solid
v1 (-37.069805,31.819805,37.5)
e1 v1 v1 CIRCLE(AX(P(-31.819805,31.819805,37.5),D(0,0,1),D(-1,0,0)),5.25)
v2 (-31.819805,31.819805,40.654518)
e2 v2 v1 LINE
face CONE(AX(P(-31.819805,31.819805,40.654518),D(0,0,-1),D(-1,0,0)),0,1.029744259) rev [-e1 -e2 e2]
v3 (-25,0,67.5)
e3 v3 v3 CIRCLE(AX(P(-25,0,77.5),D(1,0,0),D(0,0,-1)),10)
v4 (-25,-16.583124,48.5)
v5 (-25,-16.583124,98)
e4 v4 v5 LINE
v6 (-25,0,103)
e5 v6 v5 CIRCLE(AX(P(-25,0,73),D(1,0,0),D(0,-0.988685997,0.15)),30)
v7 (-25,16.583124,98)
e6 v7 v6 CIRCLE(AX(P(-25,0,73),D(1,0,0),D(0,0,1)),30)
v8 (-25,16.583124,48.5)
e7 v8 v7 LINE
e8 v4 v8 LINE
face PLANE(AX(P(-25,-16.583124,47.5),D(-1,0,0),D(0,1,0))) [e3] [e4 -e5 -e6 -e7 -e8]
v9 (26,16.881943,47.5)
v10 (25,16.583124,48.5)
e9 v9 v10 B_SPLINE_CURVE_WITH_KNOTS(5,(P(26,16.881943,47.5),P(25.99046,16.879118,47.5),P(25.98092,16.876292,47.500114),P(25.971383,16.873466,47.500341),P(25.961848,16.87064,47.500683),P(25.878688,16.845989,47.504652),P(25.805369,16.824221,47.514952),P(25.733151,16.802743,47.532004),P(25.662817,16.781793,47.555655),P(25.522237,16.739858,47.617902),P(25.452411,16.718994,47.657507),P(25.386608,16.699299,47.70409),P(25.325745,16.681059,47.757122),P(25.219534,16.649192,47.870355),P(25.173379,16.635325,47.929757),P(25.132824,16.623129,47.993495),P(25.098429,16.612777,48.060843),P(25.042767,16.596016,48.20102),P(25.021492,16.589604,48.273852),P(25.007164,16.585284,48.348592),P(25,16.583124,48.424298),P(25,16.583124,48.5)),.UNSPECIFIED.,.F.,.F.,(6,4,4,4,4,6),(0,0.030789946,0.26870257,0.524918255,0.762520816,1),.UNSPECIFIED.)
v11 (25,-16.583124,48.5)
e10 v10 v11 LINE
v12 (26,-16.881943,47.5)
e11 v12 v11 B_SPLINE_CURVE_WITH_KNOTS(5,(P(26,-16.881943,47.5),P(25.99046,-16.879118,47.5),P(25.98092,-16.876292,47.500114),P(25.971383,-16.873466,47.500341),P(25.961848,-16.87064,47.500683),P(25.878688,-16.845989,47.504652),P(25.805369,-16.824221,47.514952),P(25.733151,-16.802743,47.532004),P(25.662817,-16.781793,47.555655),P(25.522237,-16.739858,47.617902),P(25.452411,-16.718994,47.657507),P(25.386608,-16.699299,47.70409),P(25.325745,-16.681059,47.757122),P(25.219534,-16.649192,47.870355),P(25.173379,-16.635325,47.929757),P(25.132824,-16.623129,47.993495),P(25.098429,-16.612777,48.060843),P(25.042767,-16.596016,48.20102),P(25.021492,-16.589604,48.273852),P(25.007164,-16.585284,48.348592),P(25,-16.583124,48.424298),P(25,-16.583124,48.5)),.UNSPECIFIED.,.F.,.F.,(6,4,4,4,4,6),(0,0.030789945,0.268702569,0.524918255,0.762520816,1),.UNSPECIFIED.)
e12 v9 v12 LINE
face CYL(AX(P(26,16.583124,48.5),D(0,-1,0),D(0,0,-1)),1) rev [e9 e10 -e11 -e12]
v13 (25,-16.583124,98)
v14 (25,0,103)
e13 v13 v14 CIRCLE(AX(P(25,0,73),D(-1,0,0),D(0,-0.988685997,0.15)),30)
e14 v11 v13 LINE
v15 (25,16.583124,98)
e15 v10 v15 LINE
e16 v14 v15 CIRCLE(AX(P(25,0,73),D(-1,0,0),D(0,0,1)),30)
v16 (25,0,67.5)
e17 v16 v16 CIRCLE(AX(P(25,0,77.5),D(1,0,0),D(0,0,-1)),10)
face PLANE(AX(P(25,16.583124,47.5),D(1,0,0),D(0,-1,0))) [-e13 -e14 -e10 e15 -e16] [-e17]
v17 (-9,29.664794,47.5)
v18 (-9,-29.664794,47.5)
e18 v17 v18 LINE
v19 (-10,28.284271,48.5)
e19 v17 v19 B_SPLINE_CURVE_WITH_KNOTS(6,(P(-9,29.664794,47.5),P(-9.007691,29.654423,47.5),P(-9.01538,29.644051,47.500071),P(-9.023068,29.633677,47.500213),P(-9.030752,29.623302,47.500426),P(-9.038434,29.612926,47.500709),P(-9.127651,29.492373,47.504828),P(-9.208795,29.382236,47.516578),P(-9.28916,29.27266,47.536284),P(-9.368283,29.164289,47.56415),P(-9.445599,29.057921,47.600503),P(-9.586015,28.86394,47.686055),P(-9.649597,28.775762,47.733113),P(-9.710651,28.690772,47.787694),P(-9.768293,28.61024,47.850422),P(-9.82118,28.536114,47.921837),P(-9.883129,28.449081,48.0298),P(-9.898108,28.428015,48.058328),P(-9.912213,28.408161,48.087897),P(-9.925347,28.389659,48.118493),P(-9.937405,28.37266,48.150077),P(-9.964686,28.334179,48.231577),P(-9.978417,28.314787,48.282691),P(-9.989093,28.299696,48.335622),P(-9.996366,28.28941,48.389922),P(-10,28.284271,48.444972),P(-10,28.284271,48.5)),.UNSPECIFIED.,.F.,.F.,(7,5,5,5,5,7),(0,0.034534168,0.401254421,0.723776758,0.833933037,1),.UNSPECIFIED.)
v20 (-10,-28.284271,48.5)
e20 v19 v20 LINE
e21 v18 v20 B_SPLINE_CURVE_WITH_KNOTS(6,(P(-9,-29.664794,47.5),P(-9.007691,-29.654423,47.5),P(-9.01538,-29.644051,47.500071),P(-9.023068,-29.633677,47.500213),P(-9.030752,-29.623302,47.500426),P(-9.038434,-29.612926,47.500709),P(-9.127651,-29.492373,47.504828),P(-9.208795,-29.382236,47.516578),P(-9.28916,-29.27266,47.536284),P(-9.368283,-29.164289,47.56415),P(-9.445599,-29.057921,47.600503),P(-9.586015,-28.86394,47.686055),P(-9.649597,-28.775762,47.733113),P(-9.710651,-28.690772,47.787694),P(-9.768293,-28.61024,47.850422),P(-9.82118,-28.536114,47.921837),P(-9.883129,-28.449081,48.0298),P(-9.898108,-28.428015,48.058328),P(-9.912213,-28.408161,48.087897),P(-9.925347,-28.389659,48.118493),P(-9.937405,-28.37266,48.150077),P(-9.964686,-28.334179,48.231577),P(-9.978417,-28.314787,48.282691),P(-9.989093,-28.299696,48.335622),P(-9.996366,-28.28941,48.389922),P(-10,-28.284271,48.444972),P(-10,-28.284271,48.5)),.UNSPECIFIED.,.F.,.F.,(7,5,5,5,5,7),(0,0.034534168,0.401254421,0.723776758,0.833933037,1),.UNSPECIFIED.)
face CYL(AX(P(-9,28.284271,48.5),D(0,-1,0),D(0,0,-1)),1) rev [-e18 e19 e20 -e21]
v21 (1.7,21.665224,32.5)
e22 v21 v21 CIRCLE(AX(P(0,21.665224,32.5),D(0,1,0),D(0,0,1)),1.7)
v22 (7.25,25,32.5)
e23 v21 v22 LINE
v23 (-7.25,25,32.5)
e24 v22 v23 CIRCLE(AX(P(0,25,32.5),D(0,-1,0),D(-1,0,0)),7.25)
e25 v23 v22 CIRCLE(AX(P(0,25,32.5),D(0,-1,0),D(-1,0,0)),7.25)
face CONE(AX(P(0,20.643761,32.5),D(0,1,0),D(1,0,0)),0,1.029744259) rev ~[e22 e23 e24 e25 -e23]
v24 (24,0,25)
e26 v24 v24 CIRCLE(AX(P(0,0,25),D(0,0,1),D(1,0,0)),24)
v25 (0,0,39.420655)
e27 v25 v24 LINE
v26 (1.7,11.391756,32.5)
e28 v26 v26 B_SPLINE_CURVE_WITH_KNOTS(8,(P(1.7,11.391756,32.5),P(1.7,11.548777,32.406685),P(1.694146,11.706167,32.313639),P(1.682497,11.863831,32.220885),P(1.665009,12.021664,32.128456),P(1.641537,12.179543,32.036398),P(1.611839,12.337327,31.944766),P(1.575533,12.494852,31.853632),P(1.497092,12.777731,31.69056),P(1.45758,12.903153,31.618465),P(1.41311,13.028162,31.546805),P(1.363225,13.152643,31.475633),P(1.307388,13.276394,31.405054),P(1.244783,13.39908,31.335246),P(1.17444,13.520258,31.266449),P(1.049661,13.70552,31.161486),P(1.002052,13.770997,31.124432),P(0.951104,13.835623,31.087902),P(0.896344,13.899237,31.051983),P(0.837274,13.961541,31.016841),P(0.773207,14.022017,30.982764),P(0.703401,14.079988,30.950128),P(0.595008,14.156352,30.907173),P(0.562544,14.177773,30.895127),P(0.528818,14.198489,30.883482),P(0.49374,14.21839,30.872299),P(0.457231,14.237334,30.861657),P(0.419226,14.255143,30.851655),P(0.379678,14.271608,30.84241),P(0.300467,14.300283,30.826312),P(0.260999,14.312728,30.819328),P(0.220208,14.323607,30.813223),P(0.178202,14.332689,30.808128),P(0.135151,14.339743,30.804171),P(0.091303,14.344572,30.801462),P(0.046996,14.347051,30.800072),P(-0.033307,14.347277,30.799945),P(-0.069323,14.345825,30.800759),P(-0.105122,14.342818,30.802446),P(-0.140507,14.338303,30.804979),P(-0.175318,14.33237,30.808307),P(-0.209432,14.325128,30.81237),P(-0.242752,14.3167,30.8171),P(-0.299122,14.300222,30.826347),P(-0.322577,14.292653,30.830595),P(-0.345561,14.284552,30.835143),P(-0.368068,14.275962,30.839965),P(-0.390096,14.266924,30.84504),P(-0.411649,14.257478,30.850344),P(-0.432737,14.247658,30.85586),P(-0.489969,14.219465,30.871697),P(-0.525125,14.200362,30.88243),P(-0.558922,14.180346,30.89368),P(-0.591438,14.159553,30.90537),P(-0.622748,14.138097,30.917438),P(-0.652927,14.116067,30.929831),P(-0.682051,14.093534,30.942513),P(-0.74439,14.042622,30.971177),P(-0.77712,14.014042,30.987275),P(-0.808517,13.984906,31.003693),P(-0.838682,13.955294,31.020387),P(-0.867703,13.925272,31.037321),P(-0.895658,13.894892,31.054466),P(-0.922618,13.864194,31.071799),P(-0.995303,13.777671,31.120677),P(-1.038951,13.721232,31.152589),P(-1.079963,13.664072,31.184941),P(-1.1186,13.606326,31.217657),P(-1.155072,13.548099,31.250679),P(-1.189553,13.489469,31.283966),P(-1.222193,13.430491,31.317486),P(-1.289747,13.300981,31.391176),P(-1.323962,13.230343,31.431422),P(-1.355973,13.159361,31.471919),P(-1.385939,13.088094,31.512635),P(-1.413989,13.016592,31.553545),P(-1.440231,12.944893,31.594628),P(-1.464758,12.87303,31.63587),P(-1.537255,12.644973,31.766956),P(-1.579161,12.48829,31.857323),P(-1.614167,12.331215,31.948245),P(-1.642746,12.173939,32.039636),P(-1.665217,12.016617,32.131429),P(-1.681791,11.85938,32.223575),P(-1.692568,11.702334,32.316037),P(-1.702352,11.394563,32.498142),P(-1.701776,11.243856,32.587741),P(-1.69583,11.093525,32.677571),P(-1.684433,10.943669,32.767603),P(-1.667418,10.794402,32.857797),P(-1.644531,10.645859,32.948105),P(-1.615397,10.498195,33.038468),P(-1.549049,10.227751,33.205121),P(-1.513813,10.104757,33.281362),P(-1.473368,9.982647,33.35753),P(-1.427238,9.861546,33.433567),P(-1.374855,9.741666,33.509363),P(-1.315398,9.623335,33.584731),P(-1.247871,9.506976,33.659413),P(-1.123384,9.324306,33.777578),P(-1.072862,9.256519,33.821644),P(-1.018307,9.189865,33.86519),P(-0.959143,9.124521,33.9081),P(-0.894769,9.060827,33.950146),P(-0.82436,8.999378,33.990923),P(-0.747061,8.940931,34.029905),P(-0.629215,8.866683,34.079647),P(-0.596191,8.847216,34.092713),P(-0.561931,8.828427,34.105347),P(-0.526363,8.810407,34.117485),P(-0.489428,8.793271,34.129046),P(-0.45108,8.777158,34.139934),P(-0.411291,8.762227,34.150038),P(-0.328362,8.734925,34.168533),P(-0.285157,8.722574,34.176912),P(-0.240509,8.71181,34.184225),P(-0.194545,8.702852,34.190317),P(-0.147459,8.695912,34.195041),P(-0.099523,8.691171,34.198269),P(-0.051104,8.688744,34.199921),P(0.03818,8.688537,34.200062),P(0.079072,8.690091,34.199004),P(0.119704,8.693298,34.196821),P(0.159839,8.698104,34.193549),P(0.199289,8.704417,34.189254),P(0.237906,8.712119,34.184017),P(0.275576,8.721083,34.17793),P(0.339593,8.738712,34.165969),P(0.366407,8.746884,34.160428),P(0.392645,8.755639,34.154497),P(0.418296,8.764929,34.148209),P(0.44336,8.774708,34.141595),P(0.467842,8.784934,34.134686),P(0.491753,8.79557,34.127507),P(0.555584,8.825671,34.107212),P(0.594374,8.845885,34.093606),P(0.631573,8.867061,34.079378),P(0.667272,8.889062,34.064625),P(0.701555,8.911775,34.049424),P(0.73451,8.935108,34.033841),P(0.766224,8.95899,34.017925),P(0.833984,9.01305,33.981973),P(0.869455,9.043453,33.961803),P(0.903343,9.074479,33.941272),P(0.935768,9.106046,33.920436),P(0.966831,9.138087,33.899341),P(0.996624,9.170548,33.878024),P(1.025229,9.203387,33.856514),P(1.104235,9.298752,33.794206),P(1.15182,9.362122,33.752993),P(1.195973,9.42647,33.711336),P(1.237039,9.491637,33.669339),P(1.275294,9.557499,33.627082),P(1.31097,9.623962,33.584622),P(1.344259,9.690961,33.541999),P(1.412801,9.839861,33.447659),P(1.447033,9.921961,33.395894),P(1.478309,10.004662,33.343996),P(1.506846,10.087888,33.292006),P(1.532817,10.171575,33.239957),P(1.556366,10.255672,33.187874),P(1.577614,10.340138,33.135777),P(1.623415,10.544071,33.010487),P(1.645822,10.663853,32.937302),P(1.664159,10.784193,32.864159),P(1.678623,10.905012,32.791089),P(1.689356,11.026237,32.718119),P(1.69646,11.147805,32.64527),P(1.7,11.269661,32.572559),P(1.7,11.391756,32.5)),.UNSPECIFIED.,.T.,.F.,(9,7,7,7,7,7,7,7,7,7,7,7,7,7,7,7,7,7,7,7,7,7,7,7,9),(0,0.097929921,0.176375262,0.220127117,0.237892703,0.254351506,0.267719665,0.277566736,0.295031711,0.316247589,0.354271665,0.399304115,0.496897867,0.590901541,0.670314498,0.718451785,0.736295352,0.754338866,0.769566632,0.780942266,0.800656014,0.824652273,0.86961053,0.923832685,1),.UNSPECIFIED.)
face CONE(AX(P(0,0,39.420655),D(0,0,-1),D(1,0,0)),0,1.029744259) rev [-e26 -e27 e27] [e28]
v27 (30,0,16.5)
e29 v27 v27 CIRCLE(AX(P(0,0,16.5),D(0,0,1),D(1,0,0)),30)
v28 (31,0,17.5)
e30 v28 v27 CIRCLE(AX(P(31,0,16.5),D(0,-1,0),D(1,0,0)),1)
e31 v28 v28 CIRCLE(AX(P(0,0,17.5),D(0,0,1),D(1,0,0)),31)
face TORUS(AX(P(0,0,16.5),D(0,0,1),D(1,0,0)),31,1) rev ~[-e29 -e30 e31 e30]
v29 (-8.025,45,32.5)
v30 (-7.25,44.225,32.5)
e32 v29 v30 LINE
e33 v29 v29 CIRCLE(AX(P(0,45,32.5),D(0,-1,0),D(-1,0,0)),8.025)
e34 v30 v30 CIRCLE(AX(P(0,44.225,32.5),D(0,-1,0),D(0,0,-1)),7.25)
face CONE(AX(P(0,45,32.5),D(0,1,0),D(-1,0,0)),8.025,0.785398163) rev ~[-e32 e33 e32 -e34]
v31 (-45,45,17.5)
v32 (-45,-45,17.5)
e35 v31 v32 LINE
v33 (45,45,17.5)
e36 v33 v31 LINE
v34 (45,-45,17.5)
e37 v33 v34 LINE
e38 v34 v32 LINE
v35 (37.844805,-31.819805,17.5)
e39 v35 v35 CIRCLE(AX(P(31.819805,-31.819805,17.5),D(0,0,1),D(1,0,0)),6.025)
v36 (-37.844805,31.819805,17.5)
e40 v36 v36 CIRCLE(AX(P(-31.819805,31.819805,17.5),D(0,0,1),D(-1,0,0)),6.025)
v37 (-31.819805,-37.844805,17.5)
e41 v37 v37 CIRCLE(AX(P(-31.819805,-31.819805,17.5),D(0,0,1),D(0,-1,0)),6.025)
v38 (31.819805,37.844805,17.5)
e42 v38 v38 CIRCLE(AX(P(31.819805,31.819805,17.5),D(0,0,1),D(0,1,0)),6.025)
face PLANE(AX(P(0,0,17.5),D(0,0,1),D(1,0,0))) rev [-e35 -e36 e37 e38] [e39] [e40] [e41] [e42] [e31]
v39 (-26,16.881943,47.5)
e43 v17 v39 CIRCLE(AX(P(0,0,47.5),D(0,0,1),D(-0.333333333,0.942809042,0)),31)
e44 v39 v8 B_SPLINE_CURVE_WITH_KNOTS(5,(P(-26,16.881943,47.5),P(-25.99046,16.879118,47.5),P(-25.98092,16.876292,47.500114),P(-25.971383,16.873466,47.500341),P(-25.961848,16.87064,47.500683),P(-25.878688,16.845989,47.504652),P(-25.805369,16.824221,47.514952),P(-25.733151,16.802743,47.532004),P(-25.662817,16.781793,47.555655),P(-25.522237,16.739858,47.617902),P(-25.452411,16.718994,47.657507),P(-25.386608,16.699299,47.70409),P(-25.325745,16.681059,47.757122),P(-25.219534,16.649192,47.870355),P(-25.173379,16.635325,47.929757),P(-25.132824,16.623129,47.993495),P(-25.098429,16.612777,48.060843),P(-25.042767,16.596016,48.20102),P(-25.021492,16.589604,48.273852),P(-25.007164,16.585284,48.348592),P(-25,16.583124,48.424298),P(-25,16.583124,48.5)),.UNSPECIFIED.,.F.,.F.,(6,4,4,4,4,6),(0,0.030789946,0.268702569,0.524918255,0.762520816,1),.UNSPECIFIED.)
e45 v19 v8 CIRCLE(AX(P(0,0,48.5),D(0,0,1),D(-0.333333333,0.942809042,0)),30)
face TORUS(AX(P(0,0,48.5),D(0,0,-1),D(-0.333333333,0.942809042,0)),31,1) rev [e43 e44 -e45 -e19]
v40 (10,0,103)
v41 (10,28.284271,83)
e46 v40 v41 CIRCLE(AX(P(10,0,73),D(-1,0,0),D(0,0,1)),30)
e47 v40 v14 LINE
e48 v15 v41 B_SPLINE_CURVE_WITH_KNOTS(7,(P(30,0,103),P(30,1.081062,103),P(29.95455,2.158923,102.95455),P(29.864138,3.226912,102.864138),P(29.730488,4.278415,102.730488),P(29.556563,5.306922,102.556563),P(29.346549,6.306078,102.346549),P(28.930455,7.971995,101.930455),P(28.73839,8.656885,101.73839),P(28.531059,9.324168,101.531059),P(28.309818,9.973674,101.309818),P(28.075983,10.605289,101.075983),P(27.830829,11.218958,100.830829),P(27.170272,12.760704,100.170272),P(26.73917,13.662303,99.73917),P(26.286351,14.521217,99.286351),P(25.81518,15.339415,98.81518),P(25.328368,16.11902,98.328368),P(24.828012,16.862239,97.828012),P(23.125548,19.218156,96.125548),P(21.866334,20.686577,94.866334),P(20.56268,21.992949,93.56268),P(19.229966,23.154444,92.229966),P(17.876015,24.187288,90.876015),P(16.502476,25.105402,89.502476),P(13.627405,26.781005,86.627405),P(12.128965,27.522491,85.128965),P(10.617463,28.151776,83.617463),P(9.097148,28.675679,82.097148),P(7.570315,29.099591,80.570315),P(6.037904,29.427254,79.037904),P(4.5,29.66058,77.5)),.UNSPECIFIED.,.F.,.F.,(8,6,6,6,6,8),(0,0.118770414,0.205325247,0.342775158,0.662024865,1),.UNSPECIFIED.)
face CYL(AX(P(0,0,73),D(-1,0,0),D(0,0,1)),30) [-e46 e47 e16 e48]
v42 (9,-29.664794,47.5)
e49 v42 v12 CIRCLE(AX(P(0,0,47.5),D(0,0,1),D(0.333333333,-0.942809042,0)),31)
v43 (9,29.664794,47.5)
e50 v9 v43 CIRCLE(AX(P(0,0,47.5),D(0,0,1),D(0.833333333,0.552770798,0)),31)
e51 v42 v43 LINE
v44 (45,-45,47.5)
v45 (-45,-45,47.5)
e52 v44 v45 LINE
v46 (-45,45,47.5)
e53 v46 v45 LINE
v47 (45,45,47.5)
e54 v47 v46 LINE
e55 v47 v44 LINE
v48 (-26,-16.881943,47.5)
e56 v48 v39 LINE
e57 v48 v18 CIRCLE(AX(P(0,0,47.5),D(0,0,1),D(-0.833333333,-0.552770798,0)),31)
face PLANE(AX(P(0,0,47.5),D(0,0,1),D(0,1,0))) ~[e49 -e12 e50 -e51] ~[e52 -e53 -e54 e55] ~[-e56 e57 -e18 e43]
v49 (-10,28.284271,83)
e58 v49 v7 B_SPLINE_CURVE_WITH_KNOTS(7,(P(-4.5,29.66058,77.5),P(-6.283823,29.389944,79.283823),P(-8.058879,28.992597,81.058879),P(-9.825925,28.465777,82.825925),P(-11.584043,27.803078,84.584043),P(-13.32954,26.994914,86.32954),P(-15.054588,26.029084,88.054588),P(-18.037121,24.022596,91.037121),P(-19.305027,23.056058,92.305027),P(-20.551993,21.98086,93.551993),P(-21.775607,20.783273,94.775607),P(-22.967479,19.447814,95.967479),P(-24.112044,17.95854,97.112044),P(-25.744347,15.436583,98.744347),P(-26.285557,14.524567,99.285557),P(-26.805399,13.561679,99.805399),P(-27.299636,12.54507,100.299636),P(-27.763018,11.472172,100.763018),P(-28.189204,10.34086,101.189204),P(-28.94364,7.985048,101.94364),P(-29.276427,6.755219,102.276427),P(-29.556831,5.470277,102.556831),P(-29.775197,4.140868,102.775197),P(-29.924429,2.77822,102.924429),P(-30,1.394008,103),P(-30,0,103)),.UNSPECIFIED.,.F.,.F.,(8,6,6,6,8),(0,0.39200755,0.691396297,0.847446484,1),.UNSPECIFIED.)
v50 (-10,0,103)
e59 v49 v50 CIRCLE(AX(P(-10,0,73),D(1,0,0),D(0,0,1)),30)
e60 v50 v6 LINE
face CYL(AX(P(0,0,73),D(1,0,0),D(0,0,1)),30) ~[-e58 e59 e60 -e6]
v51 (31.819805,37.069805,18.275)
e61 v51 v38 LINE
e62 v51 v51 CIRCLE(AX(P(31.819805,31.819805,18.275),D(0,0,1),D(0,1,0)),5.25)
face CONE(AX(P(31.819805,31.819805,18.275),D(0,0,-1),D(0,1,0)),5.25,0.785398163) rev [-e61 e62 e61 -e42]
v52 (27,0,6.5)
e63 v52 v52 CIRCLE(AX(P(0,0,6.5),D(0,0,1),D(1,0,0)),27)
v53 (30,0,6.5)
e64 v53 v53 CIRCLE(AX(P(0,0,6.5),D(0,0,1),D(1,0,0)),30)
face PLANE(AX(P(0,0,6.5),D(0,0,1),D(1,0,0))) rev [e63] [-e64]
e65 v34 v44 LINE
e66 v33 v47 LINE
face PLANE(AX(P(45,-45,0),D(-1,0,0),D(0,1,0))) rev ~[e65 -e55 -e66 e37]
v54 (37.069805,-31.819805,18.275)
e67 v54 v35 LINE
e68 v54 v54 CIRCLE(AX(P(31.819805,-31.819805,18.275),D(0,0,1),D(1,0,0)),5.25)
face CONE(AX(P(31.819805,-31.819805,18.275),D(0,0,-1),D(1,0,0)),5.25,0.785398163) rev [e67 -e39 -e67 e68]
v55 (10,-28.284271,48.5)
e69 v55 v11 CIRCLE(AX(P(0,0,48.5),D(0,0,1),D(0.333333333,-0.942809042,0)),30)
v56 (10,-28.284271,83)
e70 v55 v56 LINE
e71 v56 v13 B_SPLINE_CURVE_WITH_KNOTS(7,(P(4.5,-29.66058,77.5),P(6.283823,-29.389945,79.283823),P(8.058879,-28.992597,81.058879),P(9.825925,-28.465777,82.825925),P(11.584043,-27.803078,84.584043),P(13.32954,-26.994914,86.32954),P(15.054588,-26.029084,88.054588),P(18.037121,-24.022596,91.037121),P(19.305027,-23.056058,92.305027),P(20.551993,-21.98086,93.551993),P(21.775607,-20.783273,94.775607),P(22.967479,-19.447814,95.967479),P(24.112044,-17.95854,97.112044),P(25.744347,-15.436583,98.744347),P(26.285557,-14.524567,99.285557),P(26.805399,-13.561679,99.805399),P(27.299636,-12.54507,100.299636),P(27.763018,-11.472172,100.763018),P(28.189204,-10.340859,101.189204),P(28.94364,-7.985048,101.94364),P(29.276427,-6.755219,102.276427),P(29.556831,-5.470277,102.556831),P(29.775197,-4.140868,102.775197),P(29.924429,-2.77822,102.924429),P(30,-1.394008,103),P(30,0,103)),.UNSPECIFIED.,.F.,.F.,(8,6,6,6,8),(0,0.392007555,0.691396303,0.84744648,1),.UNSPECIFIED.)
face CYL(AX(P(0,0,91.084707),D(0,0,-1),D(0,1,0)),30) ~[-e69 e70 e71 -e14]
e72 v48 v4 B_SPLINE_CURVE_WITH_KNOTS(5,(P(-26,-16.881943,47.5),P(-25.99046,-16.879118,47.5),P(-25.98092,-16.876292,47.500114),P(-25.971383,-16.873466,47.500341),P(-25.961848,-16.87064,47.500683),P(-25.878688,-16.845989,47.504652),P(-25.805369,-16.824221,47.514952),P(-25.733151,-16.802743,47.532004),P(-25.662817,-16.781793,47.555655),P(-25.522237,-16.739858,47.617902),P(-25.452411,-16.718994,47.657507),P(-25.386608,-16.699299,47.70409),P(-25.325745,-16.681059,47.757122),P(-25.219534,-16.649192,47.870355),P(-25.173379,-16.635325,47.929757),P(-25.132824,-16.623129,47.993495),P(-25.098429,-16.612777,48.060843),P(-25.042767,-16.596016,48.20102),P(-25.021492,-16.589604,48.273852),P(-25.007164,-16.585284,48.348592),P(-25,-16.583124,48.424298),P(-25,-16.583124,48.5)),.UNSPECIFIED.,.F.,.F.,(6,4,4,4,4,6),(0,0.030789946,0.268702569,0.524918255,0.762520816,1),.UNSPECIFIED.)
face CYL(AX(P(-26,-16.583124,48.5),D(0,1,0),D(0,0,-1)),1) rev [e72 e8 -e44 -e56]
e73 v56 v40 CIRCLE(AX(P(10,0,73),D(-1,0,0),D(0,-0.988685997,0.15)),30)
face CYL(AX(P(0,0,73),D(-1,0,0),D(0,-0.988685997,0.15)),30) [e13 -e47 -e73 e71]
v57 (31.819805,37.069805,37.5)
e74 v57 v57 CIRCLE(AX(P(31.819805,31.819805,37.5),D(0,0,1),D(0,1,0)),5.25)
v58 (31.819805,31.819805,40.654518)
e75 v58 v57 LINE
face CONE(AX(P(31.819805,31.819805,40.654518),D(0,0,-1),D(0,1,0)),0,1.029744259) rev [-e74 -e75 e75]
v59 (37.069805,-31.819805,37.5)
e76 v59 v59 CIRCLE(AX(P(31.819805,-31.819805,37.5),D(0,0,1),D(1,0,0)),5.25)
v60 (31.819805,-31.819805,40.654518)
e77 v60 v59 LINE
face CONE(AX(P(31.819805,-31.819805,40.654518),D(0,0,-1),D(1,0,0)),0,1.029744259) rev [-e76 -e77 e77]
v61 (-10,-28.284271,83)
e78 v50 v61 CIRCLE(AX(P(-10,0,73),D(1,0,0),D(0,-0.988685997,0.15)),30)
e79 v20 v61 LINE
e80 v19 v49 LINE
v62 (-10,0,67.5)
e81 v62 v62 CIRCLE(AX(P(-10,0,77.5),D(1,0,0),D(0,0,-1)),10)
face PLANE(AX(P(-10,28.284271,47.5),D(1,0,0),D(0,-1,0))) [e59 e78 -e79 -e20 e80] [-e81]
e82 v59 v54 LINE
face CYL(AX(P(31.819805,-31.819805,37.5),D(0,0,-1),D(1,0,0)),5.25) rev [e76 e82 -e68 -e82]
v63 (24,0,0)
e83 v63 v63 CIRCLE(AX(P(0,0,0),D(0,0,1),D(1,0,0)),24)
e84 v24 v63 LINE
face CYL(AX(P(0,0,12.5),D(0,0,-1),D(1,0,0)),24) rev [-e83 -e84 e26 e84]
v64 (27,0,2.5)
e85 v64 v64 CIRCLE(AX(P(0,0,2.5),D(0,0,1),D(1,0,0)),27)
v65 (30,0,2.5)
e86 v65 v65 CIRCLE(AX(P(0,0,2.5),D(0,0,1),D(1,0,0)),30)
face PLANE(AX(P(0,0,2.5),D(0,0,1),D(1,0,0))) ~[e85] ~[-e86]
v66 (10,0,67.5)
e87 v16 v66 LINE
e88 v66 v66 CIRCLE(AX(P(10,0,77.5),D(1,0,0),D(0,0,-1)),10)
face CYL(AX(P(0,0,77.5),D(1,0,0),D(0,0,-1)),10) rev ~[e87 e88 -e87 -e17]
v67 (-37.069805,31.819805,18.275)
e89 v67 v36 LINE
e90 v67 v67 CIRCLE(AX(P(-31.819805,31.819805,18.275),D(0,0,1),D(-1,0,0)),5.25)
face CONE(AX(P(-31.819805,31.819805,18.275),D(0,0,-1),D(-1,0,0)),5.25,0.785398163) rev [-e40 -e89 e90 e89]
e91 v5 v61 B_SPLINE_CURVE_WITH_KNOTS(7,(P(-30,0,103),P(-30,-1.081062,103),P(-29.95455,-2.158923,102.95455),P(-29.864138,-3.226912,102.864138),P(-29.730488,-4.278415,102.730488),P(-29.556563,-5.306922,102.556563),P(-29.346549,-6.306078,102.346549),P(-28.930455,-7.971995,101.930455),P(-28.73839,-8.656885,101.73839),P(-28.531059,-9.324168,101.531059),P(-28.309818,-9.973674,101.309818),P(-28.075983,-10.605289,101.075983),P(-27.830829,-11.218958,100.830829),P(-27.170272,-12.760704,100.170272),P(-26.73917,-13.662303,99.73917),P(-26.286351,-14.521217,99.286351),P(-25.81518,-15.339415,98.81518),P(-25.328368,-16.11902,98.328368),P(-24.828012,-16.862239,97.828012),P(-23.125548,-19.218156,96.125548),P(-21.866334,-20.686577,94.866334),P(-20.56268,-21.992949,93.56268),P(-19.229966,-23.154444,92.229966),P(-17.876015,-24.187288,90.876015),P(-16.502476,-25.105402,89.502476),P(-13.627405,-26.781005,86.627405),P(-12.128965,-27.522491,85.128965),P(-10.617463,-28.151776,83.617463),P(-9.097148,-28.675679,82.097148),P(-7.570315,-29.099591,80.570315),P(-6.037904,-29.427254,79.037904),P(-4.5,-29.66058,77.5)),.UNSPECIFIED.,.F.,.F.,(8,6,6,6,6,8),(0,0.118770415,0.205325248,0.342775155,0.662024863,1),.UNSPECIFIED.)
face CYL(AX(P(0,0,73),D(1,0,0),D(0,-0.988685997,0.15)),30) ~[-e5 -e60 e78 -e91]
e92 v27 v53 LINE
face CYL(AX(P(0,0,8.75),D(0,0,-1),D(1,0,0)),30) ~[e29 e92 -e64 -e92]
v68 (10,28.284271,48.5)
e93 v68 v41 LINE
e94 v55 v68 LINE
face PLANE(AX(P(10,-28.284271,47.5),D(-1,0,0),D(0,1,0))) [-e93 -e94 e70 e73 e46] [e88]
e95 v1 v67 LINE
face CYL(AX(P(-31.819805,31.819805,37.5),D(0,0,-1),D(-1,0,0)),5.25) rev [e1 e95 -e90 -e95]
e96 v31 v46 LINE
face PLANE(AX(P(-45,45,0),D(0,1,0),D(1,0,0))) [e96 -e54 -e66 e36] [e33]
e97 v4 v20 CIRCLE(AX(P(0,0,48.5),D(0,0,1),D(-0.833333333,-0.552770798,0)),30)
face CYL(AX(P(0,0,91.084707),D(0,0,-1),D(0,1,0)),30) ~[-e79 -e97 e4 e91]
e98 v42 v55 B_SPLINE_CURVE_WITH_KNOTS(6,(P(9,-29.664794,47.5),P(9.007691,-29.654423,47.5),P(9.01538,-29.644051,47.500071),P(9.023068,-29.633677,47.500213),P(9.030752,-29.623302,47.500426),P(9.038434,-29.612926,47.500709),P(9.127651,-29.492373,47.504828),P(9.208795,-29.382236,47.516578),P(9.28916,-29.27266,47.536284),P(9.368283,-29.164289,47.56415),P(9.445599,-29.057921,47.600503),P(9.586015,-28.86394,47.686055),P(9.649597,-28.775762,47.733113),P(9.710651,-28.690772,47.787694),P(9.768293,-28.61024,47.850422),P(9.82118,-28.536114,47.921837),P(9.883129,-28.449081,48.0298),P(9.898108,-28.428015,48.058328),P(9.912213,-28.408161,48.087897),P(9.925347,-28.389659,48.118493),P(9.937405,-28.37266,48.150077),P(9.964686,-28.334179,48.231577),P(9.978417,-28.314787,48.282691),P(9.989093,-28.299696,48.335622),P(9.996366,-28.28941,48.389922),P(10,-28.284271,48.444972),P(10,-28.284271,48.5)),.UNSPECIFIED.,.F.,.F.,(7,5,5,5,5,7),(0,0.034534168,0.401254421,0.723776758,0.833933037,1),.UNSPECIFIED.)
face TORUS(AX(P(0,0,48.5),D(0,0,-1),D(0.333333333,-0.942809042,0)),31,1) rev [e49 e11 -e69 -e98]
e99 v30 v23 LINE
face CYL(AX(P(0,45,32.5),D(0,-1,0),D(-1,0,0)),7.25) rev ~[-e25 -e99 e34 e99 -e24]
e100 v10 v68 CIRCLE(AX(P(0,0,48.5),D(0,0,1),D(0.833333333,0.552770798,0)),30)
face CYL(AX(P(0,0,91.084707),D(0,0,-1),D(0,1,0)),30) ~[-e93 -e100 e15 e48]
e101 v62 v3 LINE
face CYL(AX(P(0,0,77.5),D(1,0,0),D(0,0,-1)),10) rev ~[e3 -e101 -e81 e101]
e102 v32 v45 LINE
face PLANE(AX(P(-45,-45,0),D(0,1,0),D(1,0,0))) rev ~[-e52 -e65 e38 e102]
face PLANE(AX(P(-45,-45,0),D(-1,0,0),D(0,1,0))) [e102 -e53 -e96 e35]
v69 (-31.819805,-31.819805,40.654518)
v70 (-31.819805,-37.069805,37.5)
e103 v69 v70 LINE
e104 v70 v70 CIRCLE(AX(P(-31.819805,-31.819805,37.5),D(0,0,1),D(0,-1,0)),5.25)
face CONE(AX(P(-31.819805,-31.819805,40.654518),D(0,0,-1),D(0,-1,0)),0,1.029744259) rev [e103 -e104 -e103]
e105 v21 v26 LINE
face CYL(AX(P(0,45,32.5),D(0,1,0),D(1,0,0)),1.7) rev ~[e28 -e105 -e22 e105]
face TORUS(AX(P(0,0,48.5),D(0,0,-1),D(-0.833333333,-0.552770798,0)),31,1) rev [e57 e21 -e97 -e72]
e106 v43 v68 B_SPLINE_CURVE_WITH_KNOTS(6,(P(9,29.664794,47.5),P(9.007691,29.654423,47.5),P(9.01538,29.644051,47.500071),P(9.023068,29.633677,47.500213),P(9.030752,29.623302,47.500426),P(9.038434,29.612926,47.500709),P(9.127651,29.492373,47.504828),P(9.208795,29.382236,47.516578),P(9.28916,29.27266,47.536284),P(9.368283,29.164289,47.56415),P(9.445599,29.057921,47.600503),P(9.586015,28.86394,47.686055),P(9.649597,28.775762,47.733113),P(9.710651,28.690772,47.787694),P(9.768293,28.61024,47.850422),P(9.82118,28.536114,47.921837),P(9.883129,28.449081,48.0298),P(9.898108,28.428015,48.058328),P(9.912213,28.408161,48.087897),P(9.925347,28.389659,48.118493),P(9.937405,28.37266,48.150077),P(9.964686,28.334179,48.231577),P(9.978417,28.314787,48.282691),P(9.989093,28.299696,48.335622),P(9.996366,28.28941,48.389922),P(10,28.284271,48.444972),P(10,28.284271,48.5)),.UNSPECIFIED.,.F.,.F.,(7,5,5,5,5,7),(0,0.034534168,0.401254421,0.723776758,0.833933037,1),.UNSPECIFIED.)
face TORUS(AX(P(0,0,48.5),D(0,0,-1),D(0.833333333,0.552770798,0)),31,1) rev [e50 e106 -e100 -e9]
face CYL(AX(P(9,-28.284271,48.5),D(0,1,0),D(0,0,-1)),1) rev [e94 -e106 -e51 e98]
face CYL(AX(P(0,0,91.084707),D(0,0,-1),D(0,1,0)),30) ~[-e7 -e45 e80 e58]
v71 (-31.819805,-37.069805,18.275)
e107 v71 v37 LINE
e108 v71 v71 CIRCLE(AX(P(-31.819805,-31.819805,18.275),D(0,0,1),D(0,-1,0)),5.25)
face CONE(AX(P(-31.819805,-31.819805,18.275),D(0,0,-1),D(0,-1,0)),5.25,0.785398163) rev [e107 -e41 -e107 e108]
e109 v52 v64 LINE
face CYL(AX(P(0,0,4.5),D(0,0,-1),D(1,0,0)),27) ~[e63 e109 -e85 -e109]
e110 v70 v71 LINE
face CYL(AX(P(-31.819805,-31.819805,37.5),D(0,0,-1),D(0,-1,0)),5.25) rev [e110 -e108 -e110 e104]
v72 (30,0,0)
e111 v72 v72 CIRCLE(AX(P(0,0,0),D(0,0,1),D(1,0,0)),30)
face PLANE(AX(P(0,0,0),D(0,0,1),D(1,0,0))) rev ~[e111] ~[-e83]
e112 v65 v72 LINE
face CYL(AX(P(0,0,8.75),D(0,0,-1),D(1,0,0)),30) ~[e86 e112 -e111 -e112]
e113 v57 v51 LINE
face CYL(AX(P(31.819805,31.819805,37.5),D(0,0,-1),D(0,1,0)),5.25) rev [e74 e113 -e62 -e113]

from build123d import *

# Parameters (mm, degrees)
SKETCH2_W                        = 90
SKETCH2_H                        = 90
BOSS_EXTRUDE1_DEPTH              = 103
SKETCH4_W                        = 24
SKETCH4_H                        = 25
SKETCH4_W_2                      = 40
SKETCH4_H_2                      = 17.5
SKETCH4_W_3                      = 3
SKETCH4_H_3                      = 4
SKETCH5_R                        = 10
CUT_EXTRUDE1_DEPTH               = 46
CUT_EXTRUDE1_DEPTH_BACK          = 46
SKETCH6_W                        = 87.169413833
SKETCH6_H                        = 43.101198191
CUT_EXTRUDE2_DEPTH               = 46
CUT_EXTRUDE2_DEPTH_BACK          = 46
CUT_EXTRUDE3_DEPTH               = 103
CUT_EXTRUDE4_REACH               = 92
SKETCH10_R                       = 1.7
FILLET1_R                        = 1
M16X1_5_TAPPED_HOLE2_D           = 14.5
M16X1_5_TAPPED_HOLE2_DEPTH       = 20
M16X1_5_TAPPED_HOLE2_CSINK_D     = 16.05
M16X1_5_TAPPED_HOLE2_CSINK_ANGLE = 90
M16X1_5_TAPPED_HOLE2_TIP         = 4.356239488
CIRPATTERN2_COUNT                = 4


with BuildPart() as part:
    # Sketch2 → Boss-Extrude1 (new body)
    with BuildSketch(Plane.XY):
        Rectangle(SKETCH2_W, SKETCH2_H)
    extrude(amount=BOSS_EXTRUDE1_DEPTH)

    # Sketch4 → Cut-Revolve2 (revolve, cut)
    with BuildSketch(Plane(origin=(0, 0, 0), x_dir=(1, 0, 0), z_dir=(0, 1, 0))):
        with Locations((12, -12.5)):
            Rectangle(SKETCH4_W, SKETCH4_H)
        Polygon((0, -25), (0, -39.420654857), (24, -25), align=None)
        with Locations((50, -8.75)):
            Rectangle(SKETCH4_W_2, SKETCH4_H_2)
        with Locations((28.5, -4.5)):
            Rectangle(SKETCH4_W_3, SKETCH4_H_3)
    revolve(axis=Axis((0, 0, 0), (0, 0, 1)), mode=Mode.SUBTRACT)

    # Sketch5 → Cut-Extrude1 (cut, two sides)
    with BuildSketch(Plane(origin=(0, 0, 0), x_dir=(0, 0, -1), z_dir=(1, 0, 0))) as cut_extrude1_sk:
        with Locations((-77.5, 0)):
            Circle(SKETCH5_R)
    extrude(amount=CUT_EXTRUDE1_DEPTH, mode=Mode.SUBTRACT)
    extrude(cut_extrude1_sk.sketch, amount=-CUT_EXTRUDE1_DEPTH_BACK, mode=Mode.SUBTRACT)

    # Sketch6 → Cut-Revolve3 (revolve, cut)
    with BuildSketch(Plane(origin=(0, 0, 0), x_dir=(0, 0, -1), z_dir=(1, 0, 0))):
        with Locations((-91.084706917, 51.550599096)):
            Rectangle(SKETCH6_W, SKETCH6_H)
    revolve(axis=Axis((0, 0, 0), (0, 0, 1)), mode=Mode.SUBTRACT)

    # Sketch7 → Cut-Extrude2 (cut, two sides)
    with BuildSketch(Plane(origin=(0, 0, 0), x_dir=(0, 0, -1), z_dir=(1, 0, 0))) as cut_extrude2_sk:
        with BuildLine():
            Line((-103, 30), (-103, 0))
            ThreePointArc((-103, 0), (-95.748626332, 19.557607216), (-77.5, 29.6605799))
            Line((-77.5, 29.6605799), (-77.5, 30))
            Line((-77.5, 30), (-103, 30))
        make_face()
        with BuildLine():
            ThreePointArc((-77.5, -29.6605799), (-95.748626332, -19.557607216), (-103, 0))
            Line((-103, 0), (-103, -30))
            Line((-103, -30), (-77.5, -30))
            Line((-77.5, -30), (-77.5, -29.6605799))
        make_face()
    extrude(amount=CUT_EXTRUDE2_DEPTH, mode=Mode.SUBTRACT)
    extrude(cut_extrude2_sk.sketch, amount=-CUT_EXTRUDE2_DEPTH_BACK, mode=Mode.SUBTRACT)

    # Sketch8 → Cut-Extrude3 (cut)
    with BuildSketch(Plane.XY.offset(47.5)):
        with BuildLine():
            ThreePointArc((30, 0), (28.722813233, 8.660254038), (25, 16.583123952))
            Line((25, 16.583123952), (25, -16.583123952))
            ThreePointArc((25, -16.583123952), (28.722813233, -8.660254038), (30, 0))
        make_face()
        with BuildLine():
            Line((-25, -16.583123952), (-25, 16.583123952))
            ThreePointArc((-25, 16.583123952), (-30, 0), (-25, -16.583123952))
        make_face()
        with BuildLine():
            ThreePointArc((10, 28.284271247), (0, 30), (-10, 28.284271247))
            Line((-10, 28.284271247), (-10, -28.284271247))
            ThreePointArc((-10, -28.284271247), (0, -30), (10, -28.284271247))
            Line((10, -28.284271247), (10, 28.284271247))
        make_face()
    extrude(amount=CUT_EXTRUDE3_DEPTH, mode=Mode.SUBTRACT)

    # Sketch10 → Cut-Extrude4 (cut, up to next)
    with BuildSketch(Plane(origin=(0, 45, 0), x_dir=(1, 0, 0), z_dir=(0, 1, 0)), mode=Mode.PRIVATE) as cut_extrude4_sk1:
        with Locations((0, -32.5)):
            Circle(SKETCH10_R)
    cut_extrude4_tool1 = extrude(cut_extrude4_sk1.sketch, amount=-CUT_EXTRUDE4_REACH, mode=Mode.PRIVATE) & part.part
    add(cut_extrude4_tool1.solids().sort_by_distance((0, 45, 32.5))[0], mode=Mode.SUBTRACT)

    # Fillet1
    fillet1_edges = [part.edges().sort_by_distance(p)[0] for p in [
        (18.452078799, 23.654191764, 47.5),
        (18.452078799, -23.654191764, 47.5),
        (-18.452078799, -23.654191764, 47.5),
        (25, 0, 47.5),
        (-25, 0, 47.5),
        (-10, 0, 47.5),
        (10, 0, 47.5),
        (-30, 0, 17.5),
        (-18.452078799, 23.654191764, 47.5),
    ]]
    fillet(fillet1_edges, radius=FILLET1_R)

    # M16x1.5 Tapped Hole2
    with Locations(Plane(origin=(0, 45, 0), x_dir=(1, 0, 0), z_dir=(0, 1, 0))):
        with Locations((0, -32.5)):
            CounterSinkHole(M16X1_5_TAPPED_HOLE2_D / 2, M16X1_5_TAPPED_HOLE2_CSINK_D / 2, depth=M16X1_5_TAPPED_HOLE2_DEPTH, counter_sink_angle=M16X1_5_TAPPED_HOLE2_CSINK_ANGLE)
            with Locations((0, 0, -(M16X1_5_TAPPED_HOLE2_DEPTH + M16X1_5_TAPPED_HOLE2_TIP / 2))):  # 118° drill point
                Cone(0, M16X1_5_TAPPED_HOLE2_D / 2, M16X1_5_TAPPED_HOLE2_TIP, mode=Mode.SUBTRACT)

    # Sketch25 → M12x1.5 Tapped Hole1 (revolve, cut)
    with BuildSketch(Plane(origin=(31.819805153, 31.819805153, 17.5), x_dir=(0, 1, 0), z_dir=(1, 0, 0))):
        Polygon((0, 0), (0, 23.15451825), (5.25, 20), (5.25, 0.775), (6.025, 0), align=None)
    m12x1_5_tapped_hole1 = revolve(axis=Axis((31.819805153, 31.819805153, 11.15), (0, 0, 1)), mode=Mode.SUBTRACT)

    # CirPattern2: M12x1.5 Tapped Hole1 ×4 about axis
    cirpattern2_axis = Axis((0, 0, 0), (0, 0, 1))
    for i in range(1, CIRPATTERN2_COUNT):
        add(m12x1_5_tapped_hole1.rotate(cirpattern2_axis, i * 360 / CIRPATTERN2_COUNT), mode=Mode.SUBTRACT)


solid = part.part
